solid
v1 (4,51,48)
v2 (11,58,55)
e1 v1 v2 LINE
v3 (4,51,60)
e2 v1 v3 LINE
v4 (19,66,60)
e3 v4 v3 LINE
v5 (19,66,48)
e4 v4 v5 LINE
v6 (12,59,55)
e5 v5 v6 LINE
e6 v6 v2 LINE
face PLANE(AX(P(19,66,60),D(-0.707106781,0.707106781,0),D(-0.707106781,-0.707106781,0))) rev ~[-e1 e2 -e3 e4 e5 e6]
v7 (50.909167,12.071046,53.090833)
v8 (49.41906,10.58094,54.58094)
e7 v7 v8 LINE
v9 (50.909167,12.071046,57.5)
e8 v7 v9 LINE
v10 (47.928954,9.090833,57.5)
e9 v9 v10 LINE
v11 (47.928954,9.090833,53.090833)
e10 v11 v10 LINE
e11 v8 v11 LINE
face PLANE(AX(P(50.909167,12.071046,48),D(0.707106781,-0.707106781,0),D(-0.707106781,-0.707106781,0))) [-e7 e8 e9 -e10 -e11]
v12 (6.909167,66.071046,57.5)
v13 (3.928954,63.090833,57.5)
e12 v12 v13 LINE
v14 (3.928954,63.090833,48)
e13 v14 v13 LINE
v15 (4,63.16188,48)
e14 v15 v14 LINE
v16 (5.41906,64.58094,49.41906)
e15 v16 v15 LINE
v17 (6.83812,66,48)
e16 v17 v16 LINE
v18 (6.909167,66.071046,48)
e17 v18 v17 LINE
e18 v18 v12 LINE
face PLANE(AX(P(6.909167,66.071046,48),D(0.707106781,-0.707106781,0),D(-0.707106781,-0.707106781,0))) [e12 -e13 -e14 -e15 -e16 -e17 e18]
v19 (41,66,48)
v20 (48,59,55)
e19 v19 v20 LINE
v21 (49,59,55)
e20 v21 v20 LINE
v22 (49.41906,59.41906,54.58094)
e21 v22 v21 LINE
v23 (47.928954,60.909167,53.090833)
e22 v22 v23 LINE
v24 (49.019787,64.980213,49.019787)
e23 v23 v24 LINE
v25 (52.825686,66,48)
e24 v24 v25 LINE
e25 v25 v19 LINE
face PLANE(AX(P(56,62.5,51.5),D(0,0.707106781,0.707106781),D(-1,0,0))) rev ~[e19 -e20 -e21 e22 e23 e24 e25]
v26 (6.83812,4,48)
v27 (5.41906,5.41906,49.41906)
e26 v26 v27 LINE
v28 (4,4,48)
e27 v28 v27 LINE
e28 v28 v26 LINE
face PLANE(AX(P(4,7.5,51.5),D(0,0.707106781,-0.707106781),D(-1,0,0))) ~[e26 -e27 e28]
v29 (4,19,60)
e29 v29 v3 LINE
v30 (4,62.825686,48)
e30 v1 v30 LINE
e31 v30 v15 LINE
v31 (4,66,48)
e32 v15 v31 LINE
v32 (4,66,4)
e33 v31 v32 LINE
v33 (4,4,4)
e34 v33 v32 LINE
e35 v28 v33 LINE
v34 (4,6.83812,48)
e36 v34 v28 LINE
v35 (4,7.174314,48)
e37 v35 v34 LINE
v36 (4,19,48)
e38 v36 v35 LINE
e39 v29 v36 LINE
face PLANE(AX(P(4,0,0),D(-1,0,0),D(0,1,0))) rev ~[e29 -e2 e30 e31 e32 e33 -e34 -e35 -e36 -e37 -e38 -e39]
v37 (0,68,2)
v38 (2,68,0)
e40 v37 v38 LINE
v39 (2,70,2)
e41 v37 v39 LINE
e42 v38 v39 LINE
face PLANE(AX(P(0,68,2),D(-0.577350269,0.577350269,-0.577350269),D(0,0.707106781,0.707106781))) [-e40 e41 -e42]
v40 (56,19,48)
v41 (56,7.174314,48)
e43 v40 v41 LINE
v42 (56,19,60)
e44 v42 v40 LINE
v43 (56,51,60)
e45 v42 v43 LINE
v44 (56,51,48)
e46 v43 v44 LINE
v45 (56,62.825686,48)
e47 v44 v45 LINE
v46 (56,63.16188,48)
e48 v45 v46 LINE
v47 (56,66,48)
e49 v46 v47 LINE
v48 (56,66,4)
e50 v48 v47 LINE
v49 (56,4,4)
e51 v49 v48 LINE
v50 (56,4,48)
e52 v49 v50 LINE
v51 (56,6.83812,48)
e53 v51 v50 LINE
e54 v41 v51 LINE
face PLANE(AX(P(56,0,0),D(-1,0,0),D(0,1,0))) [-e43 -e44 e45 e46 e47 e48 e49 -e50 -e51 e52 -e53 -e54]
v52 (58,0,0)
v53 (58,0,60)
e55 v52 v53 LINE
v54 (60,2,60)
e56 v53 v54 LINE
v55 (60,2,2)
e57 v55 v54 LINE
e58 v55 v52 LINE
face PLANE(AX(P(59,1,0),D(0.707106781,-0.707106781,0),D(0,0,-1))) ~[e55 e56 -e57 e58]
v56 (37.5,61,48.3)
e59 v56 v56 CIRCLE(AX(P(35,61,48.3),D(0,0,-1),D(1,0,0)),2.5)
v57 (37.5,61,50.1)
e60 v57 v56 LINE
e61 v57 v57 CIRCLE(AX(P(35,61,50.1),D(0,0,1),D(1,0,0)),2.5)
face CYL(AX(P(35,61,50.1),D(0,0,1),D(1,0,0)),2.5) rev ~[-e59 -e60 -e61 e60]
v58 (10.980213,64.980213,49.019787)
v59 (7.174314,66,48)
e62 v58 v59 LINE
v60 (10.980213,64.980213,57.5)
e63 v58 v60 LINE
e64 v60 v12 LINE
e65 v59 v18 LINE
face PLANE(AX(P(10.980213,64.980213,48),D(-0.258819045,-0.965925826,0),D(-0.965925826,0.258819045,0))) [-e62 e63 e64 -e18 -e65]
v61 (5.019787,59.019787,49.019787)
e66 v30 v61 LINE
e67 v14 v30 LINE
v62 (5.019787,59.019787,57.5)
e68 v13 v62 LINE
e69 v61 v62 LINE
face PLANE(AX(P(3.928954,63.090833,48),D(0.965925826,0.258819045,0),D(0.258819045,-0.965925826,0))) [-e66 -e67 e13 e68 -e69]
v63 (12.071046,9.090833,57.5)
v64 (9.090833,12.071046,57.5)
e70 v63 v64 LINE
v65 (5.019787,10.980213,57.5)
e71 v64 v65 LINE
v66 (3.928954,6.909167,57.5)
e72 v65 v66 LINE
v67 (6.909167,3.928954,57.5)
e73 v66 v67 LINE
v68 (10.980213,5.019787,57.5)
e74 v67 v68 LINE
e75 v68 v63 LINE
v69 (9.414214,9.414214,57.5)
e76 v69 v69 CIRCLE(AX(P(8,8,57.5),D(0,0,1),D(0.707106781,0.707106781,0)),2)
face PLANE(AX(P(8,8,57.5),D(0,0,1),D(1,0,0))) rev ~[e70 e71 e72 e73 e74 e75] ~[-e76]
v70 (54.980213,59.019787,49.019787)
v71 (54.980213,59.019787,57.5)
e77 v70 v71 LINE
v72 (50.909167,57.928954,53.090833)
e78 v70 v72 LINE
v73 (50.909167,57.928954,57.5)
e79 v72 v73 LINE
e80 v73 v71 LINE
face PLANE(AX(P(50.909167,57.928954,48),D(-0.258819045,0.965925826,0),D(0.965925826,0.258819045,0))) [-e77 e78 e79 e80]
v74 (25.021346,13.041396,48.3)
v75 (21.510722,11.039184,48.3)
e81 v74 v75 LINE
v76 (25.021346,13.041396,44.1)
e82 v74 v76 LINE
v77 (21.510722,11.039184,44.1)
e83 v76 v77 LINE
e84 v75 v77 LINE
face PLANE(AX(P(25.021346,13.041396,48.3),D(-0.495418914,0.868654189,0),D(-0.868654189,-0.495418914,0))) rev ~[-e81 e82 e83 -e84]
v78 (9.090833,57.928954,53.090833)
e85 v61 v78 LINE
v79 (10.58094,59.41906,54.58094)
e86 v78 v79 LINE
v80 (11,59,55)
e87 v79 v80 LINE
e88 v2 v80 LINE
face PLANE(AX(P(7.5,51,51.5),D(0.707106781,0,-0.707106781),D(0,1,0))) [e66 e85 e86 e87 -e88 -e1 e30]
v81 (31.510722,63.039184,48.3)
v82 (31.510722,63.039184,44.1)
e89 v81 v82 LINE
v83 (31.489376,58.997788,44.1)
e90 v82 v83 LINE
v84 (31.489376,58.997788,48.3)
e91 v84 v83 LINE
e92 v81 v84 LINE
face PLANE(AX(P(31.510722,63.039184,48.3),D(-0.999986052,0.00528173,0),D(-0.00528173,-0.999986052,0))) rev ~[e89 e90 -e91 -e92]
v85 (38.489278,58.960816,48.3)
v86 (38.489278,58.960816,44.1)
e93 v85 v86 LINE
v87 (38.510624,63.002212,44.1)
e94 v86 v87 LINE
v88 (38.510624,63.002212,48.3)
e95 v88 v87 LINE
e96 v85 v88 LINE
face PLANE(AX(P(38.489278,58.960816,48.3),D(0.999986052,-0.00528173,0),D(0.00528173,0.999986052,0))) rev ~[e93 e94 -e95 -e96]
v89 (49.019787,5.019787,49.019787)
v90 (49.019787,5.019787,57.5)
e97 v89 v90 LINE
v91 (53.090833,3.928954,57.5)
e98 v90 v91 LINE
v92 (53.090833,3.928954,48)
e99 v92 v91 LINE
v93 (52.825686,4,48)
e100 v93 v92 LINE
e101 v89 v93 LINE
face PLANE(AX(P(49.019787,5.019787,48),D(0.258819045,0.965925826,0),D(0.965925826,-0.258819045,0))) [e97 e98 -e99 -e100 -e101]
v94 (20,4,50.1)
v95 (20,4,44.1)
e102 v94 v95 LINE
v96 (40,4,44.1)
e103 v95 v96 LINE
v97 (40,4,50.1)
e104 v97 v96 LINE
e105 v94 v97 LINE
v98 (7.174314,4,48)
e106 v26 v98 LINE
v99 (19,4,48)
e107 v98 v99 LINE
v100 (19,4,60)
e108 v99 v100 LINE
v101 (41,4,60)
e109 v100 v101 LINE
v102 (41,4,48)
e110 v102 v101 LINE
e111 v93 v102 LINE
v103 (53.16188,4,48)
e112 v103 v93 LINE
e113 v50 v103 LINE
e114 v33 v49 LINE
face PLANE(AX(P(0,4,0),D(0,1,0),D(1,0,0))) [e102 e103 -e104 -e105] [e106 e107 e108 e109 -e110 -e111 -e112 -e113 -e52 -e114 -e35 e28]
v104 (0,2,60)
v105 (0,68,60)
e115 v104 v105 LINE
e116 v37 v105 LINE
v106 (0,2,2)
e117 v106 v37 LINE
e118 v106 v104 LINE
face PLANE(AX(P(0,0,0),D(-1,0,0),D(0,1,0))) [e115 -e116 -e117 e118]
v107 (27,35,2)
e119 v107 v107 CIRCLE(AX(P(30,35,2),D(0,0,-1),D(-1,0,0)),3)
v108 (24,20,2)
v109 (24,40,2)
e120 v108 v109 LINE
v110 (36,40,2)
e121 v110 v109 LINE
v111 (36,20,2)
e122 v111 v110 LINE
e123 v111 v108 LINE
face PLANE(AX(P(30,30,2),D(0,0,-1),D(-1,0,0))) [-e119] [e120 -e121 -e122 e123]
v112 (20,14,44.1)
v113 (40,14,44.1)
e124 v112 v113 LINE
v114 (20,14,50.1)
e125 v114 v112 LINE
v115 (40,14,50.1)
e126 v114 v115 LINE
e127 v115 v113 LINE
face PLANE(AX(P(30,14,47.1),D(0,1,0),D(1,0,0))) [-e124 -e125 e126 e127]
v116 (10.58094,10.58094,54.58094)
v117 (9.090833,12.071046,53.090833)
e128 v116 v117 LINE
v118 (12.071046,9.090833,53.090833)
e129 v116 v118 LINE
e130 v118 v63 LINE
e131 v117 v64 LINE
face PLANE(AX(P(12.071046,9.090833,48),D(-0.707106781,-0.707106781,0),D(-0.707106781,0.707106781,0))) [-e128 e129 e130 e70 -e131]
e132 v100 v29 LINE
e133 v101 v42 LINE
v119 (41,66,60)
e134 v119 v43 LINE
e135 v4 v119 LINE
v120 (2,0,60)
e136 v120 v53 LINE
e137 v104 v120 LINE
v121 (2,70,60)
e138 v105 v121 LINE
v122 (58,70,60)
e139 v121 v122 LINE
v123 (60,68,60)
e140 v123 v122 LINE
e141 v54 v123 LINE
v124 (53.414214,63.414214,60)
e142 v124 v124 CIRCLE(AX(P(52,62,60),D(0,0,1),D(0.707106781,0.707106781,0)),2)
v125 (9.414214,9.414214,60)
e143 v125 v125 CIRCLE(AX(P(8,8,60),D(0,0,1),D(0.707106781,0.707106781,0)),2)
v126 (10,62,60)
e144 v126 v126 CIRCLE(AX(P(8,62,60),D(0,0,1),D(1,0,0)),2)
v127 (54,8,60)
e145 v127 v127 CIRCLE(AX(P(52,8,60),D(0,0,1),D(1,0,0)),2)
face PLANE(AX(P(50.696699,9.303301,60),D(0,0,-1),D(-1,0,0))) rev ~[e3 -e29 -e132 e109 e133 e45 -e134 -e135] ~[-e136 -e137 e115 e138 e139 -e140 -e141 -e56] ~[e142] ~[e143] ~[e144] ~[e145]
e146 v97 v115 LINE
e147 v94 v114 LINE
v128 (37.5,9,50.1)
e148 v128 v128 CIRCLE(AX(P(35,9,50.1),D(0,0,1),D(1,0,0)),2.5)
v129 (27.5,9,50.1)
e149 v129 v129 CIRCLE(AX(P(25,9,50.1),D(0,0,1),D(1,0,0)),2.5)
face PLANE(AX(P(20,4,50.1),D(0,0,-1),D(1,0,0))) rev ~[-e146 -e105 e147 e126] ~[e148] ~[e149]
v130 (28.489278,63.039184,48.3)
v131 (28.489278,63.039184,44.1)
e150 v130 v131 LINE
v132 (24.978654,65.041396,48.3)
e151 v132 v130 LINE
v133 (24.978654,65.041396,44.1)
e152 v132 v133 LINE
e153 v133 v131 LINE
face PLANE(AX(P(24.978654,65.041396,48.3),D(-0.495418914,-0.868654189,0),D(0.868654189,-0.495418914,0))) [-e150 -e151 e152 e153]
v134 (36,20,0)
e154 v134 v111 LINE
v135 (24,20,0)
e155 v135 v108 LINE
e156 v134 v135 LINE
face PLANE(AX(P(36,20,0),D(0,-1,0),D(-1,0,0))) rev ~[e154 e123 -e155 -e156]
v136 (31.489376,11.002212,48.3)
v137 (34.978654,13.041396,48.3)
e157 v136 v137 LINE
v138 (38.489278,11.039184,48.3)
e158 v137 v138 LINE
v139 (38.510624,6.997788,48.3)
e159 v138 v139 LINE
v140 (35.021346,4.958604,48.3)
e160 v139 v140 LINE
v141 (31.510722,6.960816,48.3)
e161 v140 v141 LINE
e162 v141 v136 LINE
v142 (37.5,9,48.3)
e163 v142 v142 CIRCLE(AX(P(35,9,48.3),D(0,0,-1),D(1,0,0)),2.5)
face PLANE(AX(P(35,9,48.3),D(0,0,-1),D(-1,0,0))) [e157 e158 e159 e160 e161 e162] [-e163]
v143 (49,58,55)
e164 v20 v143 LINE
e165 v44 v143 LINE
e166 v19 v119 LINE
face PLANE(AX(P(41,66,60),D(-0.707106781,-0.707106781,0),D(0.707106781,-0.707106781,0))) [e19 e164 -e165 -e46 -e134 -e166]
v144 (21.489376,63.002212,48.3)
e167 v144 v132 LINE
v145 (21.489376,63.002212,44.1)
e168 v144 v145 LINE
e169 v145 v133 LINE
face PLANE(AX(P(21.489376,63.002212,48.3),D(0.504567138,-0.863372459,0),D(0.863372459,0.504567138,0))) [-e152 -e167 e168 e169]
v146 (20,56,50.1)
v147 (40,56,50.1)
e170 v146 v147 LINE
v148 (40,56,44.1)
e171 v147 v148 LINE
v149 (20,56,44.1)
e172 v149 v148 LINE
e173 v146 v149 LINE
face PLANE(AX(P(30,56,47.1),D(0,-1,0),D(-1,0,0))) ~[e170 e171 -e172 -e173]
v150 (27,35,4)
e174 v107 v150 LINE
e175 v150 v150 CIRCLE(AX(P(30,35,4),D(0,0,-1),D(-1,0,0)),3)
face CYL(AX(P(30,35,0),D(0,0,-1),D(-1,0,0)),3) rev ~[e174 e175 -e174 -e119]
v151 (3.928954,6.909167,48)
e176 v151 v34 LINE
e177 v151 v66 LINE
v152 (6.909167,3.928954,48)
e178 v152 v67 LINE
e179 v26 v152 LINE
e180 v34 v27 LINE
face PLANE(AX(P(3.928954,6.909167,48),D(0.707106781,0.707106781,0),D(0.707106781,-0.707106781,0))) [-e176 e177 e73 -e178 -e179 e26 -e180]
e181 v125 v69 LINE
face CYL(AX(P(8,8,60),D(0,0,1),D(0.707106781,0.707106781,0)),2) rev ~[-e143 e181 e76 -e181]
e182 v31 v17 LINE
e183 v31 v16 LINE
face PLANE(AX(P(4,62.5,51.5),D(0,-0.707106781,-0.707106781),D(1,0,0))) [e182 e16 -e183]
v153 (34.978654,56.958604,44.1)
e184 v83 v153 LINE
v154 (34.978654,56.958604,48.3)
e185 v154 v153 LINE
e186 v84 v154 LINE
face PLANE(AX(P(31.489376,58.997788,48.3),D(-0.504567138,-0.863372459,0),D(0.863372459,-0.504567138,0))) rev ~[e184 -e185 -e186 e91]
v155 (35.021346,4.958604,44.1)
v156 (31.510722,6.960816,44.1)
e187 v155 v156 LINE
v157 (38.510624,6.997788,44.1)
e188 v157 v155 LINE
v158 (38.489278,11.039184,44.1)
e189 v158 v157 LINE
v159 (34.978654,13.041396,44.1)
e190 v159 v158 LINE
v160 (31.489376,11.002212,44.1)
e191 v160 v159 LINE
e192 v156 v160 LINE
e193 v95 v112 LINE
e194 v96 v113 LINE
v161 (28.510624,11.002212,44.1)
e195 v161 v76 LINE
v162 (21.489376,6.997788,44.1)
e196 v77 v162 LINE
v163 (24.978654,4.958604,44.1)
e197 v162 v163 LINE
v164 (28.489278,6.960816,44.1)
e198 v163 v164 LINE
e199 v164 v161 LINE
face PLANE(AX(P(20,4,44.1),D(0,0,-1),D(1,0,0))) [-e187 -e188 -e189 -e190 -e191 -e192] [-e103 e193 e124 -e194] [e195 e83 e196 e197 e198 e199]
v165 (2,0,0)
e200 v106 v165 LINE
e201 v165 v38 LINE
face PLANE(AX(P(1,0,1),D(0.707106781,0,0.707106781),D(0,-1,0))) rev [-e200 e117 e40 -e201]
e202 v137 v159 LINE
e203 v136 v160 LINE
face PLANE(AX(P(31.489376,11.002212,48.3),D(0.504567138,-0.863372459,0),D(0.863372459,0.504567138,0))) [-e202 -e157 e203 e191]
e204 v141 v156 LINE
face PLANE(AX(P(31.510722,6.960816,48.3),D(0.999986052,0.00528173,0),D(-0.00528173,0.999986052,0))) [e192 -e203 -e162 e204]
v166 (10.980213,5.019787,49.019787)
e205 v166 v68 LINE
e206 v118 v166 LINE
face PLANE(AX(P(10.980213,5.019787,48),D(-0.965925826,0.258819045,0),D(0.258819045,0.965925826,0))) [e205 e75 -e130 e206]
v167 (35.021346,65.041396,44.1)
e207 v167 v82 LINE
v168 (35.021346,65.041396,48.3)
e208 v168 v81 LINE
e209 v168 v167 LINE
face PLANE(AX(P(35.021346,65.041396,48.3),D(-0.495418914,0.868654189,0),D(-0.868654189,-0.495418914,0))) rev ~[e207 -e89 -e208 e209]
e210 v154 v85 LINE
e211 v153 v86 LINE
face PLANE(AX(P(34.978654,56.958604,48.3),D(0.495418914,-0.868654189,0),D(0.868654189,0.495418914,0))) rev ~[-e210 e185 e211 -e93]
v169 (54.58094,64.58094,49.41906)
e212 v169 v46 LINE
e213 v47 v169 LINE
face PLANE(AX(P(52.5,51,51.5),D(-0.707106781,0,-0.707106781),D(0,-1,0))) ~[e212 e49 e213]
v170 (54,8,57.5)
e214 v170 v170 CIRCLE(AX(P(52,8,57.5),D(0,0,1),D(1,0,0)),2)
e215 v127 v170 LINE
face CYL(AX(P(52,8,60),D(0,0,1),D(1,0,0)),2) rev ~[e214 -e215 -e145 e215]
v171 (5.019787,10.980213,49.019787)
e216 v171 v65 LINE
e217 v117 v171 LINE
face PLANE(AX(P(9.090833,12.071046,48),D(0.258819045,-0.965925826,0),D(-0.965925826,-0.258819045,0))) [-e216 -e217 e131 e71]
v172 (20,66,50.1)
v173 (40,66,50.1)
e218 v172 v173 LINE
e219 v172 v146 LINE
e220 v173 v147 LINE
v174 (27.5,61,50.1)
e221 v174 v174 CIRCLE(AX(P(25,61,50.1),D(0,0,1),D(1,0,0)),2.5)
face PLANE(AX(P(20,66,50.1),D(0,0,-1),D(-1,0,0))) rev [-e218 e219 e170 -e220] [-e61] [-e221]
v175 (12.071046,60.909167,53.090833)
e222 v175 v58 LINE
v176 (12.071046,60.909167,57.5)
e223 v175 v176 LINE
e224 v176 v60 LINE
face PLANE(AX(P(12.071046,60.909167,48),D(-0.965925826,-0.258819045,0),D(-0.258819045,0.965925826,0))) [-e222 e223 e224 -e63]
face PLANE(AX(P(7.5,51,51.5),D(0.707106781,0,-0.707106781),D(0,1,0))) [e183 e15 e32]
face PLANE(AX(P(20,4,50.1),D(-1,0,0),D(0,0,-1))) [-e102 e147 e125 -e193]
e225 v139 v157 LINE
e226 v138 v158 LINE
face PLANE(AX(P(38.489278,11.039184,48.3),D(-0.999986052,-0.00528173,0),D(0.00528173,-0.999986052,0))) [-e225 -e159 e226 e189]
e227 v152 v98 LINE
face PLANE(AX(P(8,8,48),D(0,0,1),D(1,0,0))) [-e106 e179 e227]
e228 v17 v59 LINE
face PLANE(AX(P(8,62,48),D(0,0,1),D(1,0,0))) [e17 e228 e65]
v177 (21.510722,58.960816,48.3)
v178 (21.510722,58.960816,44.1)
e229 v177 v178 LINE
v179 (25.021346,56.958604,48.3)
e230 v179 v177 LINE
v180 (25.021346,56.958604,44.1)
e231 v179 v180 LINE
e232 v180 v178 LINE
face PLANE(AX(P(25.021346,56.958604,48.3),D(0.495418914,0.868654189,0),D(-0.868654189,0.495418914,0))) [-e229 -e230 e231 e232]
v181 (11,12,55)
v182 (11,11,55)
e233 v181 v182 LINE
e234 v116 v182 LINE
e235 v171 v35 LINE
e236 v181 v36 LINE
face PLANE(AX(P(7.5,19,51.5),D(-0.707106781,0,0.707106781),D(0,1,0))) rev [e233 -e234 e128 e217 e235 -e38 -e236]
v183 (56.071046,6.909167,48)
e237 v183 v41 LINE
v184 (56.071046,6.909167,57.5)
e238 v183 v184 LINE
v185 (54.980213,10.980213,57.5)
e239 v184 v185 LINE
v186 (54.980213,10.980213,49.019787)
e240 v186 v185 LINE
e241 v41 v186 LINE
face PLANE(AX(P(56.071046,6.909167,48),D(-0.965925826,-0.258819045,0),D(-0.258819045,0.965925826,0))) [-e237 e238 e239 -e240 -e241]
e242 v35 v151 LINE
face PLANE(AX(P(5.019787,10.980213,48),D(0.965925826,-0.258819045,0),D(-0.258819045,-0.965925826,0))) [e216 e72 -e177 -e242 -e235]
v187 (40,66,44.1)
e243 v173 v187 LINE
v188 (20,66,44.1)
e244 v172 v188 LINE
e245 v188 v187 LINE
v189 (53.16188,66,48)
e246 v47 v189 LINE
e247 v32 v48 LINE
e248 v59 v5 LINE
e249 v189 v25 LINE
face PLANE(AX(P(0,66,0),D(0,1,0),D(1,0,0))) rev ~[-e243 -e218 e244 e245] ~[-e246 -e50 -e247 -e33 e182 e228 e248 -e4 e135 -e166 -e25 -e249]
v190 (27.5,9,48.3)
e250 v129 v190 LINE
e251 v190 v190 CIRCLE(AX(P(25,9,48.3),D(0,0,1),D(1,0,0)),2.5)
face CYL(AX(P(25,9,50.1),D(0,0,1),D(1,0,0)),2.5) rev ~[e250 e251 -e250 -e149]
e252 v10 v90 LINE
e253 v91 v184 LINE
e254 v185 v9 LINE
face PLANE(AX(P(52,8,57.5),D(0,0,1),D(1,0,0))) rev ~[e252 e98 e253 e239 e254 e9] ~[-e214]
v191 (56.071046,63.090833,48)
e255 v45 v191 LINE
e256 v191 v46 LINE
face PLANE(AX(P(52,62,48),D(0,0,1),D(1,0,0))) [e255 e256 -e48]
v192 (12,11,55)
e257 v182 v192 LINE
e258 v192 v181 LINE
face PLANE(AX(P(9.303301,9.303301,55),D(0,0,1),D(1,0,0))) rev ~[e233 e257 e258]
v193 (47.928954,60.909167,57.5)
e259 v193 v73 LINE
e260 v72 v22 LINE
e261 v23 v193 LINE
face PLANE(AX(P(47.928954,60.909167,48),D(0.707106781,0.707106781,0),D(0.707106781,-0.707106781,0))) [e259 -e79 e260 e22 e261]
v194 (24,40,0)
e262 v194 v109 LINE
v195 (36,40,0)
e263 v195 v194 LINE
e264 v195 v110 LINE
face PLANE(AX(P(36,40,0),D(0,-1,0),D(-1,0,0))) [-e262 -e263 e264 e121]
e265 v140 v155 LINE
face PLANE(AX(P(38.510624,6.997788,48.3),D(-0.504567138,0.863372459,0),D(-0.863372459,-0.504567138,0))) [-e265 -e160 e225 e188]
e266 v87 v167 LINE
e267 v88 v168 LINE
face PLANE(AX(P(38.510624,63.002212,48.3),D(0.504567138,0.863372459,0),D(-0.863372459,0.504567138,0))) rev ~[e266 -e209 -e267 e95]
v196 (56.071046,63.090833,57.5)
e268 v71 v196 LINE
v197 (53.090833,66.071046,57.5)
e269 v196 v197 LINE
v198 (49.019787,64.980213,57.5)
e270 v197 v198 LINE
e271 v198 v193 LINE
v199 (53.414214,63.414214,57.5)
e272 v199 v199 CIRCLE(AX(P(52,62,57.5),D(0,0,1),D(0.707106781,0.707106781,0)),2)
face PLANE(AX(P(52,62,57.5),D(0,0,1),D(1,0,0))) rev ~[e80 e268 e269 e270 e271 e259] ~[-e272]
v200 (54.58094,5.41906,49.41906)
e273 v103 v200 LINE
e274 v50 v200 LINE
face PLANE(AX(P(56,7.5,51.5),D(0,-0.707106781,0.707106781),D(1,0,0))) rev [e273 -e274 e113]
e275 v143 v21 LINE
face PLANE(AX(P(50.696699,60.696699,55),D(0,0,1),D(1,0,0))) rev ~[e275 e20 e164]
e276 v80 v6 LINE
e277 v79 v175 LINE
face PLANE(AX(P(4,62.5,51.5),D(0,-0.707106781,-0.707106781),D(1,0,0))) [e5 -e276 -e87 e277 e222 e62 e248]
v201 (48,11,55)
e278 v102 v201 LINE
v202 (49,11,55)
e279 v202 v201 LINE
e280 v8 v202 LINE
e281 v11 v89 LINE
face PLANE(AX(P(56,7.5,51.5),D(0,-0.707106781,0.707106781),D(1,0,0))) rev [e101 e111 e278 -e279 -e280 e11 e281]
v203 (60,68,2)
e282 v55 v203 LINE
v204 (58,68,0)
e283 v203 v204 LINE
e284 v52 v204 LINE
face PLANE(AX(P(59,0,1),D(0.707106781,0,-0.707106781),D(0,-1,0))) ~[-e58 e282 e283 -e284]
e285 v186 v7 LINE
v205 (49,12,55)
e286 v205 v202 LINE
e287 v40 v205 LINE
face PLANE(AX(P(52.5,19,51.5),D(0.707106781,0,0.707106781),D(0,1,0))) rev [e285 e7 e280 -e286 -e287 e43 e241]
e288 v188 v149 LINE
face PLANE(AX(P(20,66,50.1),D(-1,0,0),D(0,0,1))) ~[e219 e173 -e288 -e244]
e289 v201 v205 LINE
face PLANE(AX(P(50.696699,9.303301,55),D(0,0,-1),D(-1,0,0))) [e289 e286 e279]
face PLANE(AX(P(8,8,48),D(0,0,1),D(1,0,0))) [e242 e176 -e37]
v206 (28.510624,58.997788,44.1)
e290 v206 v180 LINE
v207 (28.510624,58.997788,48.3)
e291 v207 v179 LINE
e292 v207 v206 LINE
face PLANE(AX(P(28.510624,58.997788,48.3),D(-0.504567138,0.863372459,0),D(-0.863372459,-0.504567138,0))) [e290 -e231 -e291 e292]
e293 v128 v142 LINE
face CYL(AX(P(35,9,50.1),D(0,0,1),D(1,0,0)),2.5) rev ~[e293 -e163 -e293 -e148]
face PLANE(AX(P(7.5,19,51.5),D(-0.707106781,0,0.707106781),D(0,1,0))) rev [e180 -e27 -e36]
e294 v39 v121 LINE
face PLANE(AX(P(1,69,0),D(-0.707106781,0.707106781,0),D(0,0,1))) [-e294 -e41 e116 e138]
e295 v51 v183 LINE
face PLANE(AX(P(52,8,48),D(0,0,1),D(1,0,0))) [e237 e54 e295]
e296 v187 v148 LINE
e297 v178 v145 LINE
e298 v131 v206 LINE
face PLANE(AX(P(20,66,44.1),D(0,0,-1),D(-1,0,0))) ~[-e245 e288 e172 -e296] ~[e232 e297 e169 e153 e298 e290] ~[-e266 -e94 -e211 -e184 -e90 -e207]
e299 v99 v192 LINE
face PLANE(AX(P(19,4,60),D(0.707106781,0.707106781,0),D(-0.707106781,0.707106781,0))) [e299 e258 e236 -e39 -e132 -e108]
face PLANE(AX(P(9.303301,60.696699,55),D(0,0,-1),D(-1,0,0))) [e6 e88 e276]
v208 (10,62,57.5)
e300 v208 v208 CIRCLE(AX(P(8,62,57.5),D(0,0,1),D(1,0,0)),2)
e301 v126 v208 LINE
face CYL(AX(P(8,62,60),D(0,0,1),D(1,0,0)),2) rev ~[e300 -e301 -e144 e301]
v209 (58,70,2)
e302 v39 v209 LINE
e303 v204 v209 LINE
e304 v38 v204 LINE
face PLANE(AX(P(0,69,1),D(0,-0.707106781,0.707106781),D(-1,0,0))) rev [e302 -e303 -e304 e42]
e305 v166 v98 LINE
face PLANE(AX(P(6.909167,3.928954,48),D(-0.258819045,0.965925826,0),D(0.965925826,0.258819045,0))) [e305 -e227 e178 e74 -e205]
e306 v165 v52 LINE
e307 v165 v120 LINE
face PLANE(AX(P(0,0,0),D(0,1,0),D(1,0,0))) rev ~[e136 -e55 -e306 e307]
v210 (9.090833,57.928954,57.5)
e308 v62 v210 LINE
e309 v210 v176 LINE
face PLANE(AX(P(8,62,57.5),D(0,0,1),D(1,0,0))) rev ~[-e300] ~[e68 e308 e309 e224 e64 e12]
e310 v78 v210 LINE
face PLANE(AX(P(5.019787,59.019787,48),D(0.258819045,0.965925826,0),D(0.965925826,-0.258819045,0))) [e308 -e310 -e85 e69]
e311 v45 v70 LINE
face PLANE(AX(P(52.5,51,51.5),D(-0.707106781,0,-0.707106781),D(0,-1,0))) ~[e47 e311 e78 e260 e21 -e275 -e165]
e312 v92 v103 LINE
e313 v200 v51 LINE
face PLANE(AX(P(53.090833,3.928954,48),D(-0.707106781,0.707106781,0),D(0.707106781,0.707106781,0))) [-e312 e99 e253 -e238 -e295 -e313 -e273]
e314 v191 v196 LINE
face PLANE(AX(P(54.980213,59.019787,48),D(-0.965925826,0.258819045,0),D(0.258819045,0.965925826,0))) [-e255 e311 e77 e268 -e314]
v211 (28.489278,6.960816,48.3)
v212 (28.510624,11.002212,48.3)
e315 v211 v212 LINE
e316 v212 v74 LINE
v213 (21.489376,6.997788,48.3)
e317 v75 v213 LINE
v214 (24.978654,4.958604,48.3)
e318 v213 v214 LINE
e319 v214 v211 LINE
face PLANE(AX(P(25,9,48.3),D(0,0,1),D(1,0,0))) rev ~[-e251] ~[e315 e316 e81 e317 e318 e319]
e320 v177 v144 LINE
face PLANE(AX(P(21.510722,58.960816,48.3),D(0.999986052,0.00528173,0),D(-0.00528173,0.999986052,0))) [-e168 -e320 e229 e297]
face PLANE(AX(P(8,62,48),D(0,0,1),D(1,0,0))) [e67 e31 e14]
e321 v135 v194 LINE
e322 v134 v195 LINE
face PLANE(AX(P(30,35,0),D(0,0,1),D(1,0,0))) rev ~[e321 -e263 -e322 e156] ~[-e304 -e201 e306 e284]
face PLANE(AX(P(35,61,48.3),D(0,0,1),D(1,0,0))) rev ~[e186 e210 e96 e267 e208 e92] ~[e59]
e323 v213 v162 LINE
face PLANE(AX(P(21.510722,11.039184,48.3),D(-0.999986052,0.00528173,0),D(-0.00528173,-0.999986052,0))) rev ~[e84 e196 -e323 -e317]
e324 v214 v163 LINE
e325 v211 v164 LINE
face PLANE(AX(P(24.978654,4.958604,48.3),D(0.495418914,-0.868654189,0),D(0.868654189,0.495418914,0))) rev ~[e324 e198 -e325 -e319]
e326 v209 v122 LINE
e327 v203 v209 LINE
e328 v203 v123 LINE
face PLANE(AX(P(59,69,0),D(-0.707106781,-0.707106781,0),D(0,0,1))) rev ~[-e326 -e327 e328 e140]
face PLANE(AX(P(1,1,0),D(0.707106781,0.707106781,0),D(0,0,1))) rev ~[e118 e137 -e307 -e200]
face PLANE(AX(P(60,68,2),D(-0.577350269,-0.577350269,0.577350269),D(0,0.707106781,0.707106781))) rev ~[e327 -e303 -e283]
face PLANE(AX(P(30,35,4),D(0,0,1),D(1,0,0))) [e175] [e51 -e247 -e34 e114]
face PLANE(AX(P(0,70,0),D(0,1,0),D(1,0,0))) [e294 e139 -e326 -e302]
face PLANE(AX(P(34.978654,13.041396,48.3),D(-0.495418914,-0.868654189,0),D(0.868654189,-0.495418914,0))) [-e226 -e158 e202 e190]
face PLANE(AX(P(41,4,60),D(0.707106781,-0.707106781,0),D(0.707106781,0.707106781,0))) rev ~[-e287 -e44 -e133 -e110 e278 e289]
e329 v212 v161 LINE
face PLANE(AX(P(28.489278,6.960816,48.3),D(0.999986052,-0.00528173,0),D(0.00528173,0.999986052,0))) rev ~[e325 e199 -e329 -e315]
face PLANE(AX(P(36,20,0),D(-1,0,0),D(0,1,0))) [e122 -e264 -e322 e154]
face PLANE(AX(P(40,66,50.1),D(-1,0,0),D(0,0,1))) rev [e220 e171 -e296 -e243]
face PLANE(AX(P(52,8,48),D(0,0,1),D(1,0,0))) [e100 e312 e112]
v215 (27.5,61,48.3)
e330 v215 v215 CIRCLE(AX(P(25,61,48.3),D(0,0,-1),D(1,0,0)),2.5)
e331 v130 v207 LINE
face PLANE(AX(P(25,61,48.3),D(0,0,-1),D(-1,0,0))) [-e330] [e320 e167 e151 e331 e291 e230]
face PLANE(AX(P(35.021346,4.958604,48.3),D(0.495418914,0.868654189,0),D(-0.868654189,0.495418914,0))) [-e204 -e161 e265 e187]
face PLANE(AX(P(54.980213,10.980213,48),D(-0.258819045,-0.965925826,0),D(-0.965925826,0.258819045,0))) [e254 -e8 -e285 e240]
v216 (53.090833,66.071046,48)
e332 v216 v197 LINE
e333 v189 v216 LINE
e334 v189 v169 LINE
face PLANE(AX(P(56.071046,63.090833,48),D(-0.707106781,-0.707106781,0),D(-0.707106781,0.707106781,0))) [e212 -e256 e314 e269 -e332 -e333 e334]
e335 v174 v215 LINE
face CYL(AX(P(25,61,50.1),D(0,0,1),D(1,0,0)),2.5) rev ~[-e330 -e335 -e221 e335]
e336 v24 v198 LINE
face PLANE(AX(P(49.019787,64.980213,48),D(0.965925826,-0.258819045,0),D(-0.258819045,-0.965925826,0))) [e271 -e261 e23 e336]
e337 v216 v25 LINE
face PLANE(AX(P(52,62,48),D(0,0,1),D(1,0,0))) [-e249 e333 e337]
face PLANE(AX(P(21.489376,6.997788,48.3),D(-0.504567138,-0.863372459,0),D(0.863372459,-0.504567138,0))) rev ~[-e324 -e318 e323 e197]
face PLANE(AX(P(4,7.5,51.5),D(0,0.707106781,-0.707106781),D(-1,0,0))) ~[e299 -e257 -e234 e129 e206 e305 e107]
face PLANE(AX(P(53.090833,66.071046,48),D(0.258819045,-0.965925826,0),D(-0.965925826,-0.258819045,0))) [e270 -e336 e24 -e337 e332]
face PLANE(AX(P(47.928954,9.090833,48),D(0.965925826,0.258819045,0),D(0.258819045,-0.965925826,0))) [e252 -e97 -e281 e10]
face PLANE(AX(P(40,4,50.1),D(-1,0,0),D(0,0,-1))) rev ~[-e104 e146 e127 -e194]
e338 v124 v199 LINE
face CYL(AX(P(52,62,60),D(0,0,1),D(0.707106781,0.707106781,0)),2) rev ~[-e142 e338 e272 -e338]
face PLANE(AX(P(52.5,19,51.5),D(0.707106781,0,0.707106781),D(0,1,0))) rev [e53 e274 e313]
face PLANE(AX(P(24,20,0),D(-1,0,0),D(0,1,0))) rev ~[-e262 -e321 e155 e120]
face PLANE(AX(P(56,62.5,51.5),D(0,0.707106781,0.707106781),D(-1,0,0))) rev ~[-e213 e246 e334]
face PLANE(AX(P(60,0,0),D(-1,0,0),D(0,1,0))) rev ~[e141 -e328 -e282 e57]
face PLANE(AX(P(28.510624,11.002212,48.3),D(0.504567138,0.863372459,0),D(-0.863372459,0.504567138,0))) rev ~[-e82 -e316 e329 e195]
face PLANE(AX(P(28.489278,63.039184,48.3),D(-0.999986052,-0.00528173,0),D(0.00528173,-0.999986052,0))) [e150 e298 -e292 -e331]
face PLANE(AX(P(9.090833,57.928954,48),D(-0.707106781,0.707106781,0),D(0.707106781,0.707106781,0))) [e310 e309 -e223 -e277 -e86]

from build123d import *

# Parameters (mm, degrees)
SKIZZE1_W                          = 60
SKIZZE1_H                          = 70
GRUNDK_RPER_DEPTH                  = 60
FASE2_SIZE                         = 2
WANDUNG1_T                         = -4
SKIZZE2_W                          = 20
SKIZZE2_H                          = 6
AUFSATZ_LINEAR_AUSTRAGEN1_DEPTH    = 10
BOHRUNGEN_SERVO_REACH              = 106.929
SKIZZE3_R                          = 2.5
SECHSKANT_START                    = -4.2
SKIZZE5_R                          = 2.5
SKIZZE5_R_2                        = 2
SECHSKANT_DEPTH                    = 4.2
AUSPARUNGEN_DEPTH                  = 5
FASE3_SIZE                         = 7
BOHRUNGENHALTERUNG_REACH           = 112
SKIZZE8_R                          = 2
SECHSKANT_START_2                  = -9.5
SECHSKANT_DECKEL_DEPTH             = 9.5
BOHRUNG_VERSCHRAUBUNG_DECKEL_REACH = 112
SKIZZE11_R                         = 3
SKIZZE14_W                         = 12
SKIZZE14_H                         = 20
SKIZZE14_R                         = 0.883929471
VERTIEFUNG_DECKEL_DEPTH            = 2


with BuildPart() as part:
    # Skizze1 → Grundkörper (new body)
    with BuildSketch(Plane.XY):
        with Locations((30, 35)):
            Rectangle(SKIZZE1_W, SKIZZE1_H)
    extrude(amount=GRUNDK_RPER_DEPTH)

    # Fase2
    fase2_edges = [part.edges().sort_by_distance(p)[0] for p in [
        (30, 70, 0),
        (60, 35, 0),
        (0, 35, 0),
        (0, 70, 30),
        (60, 70, 30),
        (60, 0, 30),
        (0, 0, 30),
    ]]
    chamfer(fase2_edges, length=FASE2_SIZE)

    # Wandung1
    wandung1_openings = [part.faces().sort_by_distance(p)[0] for p in [
        (30, 35, 60),
    ]]
    offset(amount=WANDUNG1_T, openings=wandung1_openings)

    # Skizze2 → Aufsatz-Linear austragen1 (add)
    with BuildSketch(Plane(origin=(0, 4, 0), x_dir=(1, 0, 0), z_dir=(0, 1, 0))):
        with Locations((30, -47.1)):
            Rectangle(SKIZZE2_W, SKIZZE2_H)
    aufsatz_linear_austragen1 = extrude(amount=AUFSATZ_LINEAR_AUSTRAGEN1_DEPTH)

    # Spiegeln1: Aufsatz-Linear austragen1 across plane
    add(aufsatz_linear_austragen1.mirror(Plane(origin=(0, 35, 0), x_dir=(0, 0, 1), z_dir=(0, -1, 0))))

    # Skizze3 → Bohrungen Servo (cut, up to next)
    with BuildSketch(Plane.XY.offset(50.1), mode=Mode.PRIVATE) as bohrungen_servo_sk1:
        with Locations((25, 9)):
            Circle(SKIZZE3_R)
    bohrungen_servo_tool1 = extrude(bohrungen_servo_sk1.sketch, amount=-BOHRUNGEN_SERVO_REACH, mode=Mode.PRIVATE) & part.part
    # Skizze3 → Bohrungen Servo (cut, up to next)
    with BuildSketch(Plane.XY.offset(50.1), mode=Mode.PRIVATE) as bohrungen_servo_sk2:
        with Locations((35, 9)):
            Circle(SKIZZE3_R)
    bohrungen_servo_tool2 = extrude(bohrungen_servo_sk2.sketch, amount=-BOHRUNGEN_SERVO_REACH, mode=Mode.PRIVATE) & part.part
    # Skizze3 → Bohrungen Servo (cut, up to next)
    with BuildSketch(Plane.XY.offset(50.1), mode=Mode.PRIVATE) as bohrungen_servo_sk3:
        with Locations((35, 61)):
            Circle(SKIZZE3_R)
    bohrungen_servo_tool3 = extrude(bohrungen_servo_sk3.sketch, amount=-BOHRUNGEN_SERVO_REACH, mode=Mode.PRIVATE) & part.part
    # Skizze3 → Bohrungen Servo (cut, up to next)
    with BuildSketch(Plane.XY.offset(50.1), mode=Mode.PRIVATE) as bohrungen_servo_sk4:
        with Locations((25, 61)):
            Circle(SKIZZE3_R)
    bohrungen_servo_tool4 = extrude(bohrungen_servo_sk4.sketch, amount=-BOHRUNGEN_SERVO_REACH, mode=Mode.PRIVATE) & part.part
    add(bohrungen_servo_tool1.solids().sort_by_distance((25, 9, 50.1))[0], mode=Mode.SUBTRACT)
    add(bohrungen_servo_tool2.solids().sort_by_distance((35, 9, 50.1))[0], mode=Mode.SUBTRACT)
    add(bohrungen_servo_tool3.solids().sort_by_distance((35, 61, 50.1))[0], mode=Mode.SUBTRACT)
    add(bohrungen_servo_tool4.solids().sort_by_distance((25, 61, 50.1))[0], mode=Mode.SUBTRACT)

    # Skizze5 → Sechskant (cut)
    # profile 1 of 4: a face of its own
    with BuildSketch(Plane(origin=(0, 0, 44.1), x_dir=(-1, 0, 0), z_dir=(0, 0, -1)).offset(SECHSKANT_START)):
        Polygon((-34.978654144, 13.041395512), (-38.489278252, 11.03918381), (-38.510624109, 6.997788298), (-35.021345856, 4.958604488), (-31.510721748, 6.96081619), (-31.489375891, 11.002211702), align=None)
        with Locations(Location((-35, 9, 0), (0, 0, 180))):
            Circle(SKIZZE5_R, mode=Mode.SUBTRACT)
    # profile 2 of 4: a face of its own
    with BuildSketch(Plane(origin=(0, 0, 44.1), x_dir=(-1, 0, 0), z_dir=(0, 0, -1)).offset(SECHSKANT_START)):
        Polygon((-31.489375891, 58.997788298), (-34.978654144, 56.958604488), (-38.489278252, 58.96081619), (-38.510624109, 63.002211702), (-35.021345856, 65.041395512), (-31.510721748, 63.03918381), align=None)
        with Locations((-35, 61)):
            Circle(SKIZZE5_R, mode=Mode.SUBTRACT)
    # profile 3 of 4: a face of its own
    with BuildSketch(Plane(origin=(0, 0, 44.1), x_dir=(-1, 0, 0), z_dir=(0, 0, -1)).offset(SECHSKANT_START)):
        Polygon((-28.489278252, 63.03918381), (-28.510624109, 58.997788298), (-25.021345856, 56.958604488), (-21.510721748, 58.96081619), (-21.489375891, 63.002211702), (-24.978654144, 65.041395512), align=None)
        with Locations((-25, 61)):
            Circle(SKIZZE5_R, mode=Mode.SUBTRACT)
    # profile 4 of 4: a face of its own
    with BuildSketch(Plane(origin=(0, 0, 44.1), x_dir=(-1, 0, 0), z_dir=(0, 0, -1)).offset(SECHSKANT_START)):
        Polygon((-28.510624109, 11.002211702), (-25.021345856, 13.041395512), (-21.510721748, 11.03918381), (-21.489375891, 6.997788298), (-24.978654144, 4.958604488), (-28.489278252, 6.96081619), align=None)
        with Locations((-25, 9)):
            Circle(SKIZZE5_R_2, mode=Mode.SUBTRACT)
    extrude(amount=SECHSKANT_DEPTH, mode=Mode.SUBTRACT)

    # Skizze7 → Ausparungen (add)
    with BuildSketch(Plane.XY.offset(60)):
        Polygon((56, 4), (41, 4), (56, 19), align=None)
        Polygon((19, 4), (4, 19), (4, 4), align=None)
        Polygon((4, 66), (19, 66), (4, 51), align=None)
        Polygon((41, 66), (56, 51), (56, 66), align=None)
    extrude(amount=-AUSPARUNGEN_DEPTH)

    # Fase3
    fase3_edges = [part.edges().sort_by_distance(p)[0] for p in [
        (56, 11.5, 55),
        (48.5, 4, 55),
        (11.5, 4, 55),
        (4, 11.5, 55),
        (4, 58.5, 55),
        (11.5, 66, 55),
        (48.5, 66, 55),
        (56, 58.5, 55),
    ]]
    chamfer(fase3_edges, length=FASE3_SIZE)

    # Skizze8 → BohrungenHalterung (cut, up to next)
    with BuildSketch(Plane.XY.offset(60), mode=Mode.PRIVATE) as bohrungenhalterung_sk1:
        with Locations((52, 8)):
            Circle(SKIZZE8_R)
    bohrungenhalterung_tool1 = extrude(bohrungenhalterung_sk1.sketch, amount=-BOHRUNGENHALTERUNG_REACH, mode=Mode.PRIVATE) & part.part
    # Skizze8 → BohrungenHalterung (cut, up to next)
    with BuildSketch(Plane.XY.offset(60), mode=Mode.PRIVATE) as bohrungenhalterung_sk2:
        with Locations(Location((8, 8, 0), (0, 0, 45))):
            Circle(SKIZZE8_R)
    bohrungenhalterung_tool2 = extrude(bohrungenhalterung_sk2.sketch, amount=-BOHRUNGENHALTERUNG_REACH, mode=Mode.PRIVATE) & part.part
    # Skizze8 → BohrungenHalterung (cut, up to next)
    with BuildSketch(Plane.XY.offset(60), mode=Mode.PRIVATE) as bohrungenhalterung_sk3:
        with Locations((8, 62)):
            Circle(SKIZZE8_R)
    bohrungenhalterung_tool3 = extrude(bohrungenhalterung_sk3.sketch, amount=-BOHRUNGENHALTERUNG_REACH, mode=Mode.PRIVATE) & part.part
    # Skizze8 → BohrungenHalterung (cut, up to next)
    with BuildSketch(Plane.XY.offset(60), mode=Mode.PRIVATE) as bohrungenhalterung_sk4:
        with Locations(Location((52, 62, 0), (0, 0, 45))):
            Circle(SKIZZE8_R)
    bohrungenhalterung_tool4 = extrude(bohrungenhalterung_sk4.sketch, amount=-BOHRUNGENHALTERUNG_REACH, mode=Mode.PRIVATE) & part.part
    add(bohrungenhalterung_tool1.solids().sort_by_distance((52, 8, 60))[0], mode=Mode.SUBTRACT)
    add(bohrungenhalterung_tool2.solids().sort_by_distance((8, 8, 60))[0], mode=Mode.SUBTRACT)
    add(bohrungenhalterung_tool3.solids().sort_by_distance((8, 62, 60))[0], mode=Mode.SUBTRACT)
    add(bohrungenhalterung_tool4.solids().sort_by_distance((52, 62, 60))[0], mode=Mode.SUBTRACT)

    # Skizze13 → Sechskant Deckel (cut)
    with BuildSketch(Plane.XY.offset(57.5).offset(SECHSKANT_START_2)):
        Polygon((50.909166509, 57.928953988), (54.98021252, 59.01978748), (56.071046012, 63.090833491), (53.090833491, 66.071046012), (49.01978748, 64.98021252), (47.928953988, 60.909166509), align=None)
        Polygon((49.01978748, 5.01978748), (53.090833491, 3.928953988), (56.071046012, 6.909166509), (54.98021252, 10.98021252), (50.909166509, 12.071046012), (47.928953988, 9.090833491), align=None)
        Polygon((3.928953988, 6.909166509), (6.909166509, 3.928953988), (10.98021252, 5.01978748), (12.071046012, 9.090833491), (9.090833491, 12.071046012), (5.01978748, 10.98021252), align=None)
        Polygon((5.01978748, 59.01978748), (9.090833491, 57.928953988), (12.071046012, 60.909166509), (10.98021252, 64.98021252), (6.909166509, 66.071046012), (3.928953988, 63.090833491), align=None)
    extrude(amount=SECHSKANT_DECKEL_DEPTH, mode=Mode.SUBTRACT)

    # Skizze11 → Bohrung Verschraubung Deckel (cut, up to next)
    with BuildSketch(Plane(origin=(0, 0, 0), x_dir=(-1, 0, 0), z_dir=(0, 0, -1)), mode=Mode.PRIVATE) as bohrung_verschraubung_deckel_sk1:
        with Locations((-30, 35)):
            Circle(SKIZZE11_R)
    bohrung_verschraubung_deckel_tool1 = extrude(bohrung_verschraubung_deckel_sk1.sketch, amount=-BOHRUNG_VERSCHRAUBUNG_DECKEL_REACH, mode=Mode.PRIVATE) & part.part
    add(bohrung_verschraubung_deckel_tool1.solids().sort_by_distance((30, 35, 0))[0], mode=Mode.SUBTRACT)

    # Skizze14 → Vertiefung Deckel (cut)
    with BuildSketch(Plane(origin=(0, 0, 0), x_dir=(-1, 0, 0), z_dir=(0, 0, -1))):
        with Locations((-30, 30)):
            Rectangle(SKIZZE14_W, SKIZZE14_H)
        with Locations((-30, 35)):
            Circle(SKIZZE14_R, mode=Mode.SUBTRACT)
    extrude(amount=-VERTIEFUNG_DECKEL_DEPTH, mode=Mode.SUBTRACT)


solid = part.part
